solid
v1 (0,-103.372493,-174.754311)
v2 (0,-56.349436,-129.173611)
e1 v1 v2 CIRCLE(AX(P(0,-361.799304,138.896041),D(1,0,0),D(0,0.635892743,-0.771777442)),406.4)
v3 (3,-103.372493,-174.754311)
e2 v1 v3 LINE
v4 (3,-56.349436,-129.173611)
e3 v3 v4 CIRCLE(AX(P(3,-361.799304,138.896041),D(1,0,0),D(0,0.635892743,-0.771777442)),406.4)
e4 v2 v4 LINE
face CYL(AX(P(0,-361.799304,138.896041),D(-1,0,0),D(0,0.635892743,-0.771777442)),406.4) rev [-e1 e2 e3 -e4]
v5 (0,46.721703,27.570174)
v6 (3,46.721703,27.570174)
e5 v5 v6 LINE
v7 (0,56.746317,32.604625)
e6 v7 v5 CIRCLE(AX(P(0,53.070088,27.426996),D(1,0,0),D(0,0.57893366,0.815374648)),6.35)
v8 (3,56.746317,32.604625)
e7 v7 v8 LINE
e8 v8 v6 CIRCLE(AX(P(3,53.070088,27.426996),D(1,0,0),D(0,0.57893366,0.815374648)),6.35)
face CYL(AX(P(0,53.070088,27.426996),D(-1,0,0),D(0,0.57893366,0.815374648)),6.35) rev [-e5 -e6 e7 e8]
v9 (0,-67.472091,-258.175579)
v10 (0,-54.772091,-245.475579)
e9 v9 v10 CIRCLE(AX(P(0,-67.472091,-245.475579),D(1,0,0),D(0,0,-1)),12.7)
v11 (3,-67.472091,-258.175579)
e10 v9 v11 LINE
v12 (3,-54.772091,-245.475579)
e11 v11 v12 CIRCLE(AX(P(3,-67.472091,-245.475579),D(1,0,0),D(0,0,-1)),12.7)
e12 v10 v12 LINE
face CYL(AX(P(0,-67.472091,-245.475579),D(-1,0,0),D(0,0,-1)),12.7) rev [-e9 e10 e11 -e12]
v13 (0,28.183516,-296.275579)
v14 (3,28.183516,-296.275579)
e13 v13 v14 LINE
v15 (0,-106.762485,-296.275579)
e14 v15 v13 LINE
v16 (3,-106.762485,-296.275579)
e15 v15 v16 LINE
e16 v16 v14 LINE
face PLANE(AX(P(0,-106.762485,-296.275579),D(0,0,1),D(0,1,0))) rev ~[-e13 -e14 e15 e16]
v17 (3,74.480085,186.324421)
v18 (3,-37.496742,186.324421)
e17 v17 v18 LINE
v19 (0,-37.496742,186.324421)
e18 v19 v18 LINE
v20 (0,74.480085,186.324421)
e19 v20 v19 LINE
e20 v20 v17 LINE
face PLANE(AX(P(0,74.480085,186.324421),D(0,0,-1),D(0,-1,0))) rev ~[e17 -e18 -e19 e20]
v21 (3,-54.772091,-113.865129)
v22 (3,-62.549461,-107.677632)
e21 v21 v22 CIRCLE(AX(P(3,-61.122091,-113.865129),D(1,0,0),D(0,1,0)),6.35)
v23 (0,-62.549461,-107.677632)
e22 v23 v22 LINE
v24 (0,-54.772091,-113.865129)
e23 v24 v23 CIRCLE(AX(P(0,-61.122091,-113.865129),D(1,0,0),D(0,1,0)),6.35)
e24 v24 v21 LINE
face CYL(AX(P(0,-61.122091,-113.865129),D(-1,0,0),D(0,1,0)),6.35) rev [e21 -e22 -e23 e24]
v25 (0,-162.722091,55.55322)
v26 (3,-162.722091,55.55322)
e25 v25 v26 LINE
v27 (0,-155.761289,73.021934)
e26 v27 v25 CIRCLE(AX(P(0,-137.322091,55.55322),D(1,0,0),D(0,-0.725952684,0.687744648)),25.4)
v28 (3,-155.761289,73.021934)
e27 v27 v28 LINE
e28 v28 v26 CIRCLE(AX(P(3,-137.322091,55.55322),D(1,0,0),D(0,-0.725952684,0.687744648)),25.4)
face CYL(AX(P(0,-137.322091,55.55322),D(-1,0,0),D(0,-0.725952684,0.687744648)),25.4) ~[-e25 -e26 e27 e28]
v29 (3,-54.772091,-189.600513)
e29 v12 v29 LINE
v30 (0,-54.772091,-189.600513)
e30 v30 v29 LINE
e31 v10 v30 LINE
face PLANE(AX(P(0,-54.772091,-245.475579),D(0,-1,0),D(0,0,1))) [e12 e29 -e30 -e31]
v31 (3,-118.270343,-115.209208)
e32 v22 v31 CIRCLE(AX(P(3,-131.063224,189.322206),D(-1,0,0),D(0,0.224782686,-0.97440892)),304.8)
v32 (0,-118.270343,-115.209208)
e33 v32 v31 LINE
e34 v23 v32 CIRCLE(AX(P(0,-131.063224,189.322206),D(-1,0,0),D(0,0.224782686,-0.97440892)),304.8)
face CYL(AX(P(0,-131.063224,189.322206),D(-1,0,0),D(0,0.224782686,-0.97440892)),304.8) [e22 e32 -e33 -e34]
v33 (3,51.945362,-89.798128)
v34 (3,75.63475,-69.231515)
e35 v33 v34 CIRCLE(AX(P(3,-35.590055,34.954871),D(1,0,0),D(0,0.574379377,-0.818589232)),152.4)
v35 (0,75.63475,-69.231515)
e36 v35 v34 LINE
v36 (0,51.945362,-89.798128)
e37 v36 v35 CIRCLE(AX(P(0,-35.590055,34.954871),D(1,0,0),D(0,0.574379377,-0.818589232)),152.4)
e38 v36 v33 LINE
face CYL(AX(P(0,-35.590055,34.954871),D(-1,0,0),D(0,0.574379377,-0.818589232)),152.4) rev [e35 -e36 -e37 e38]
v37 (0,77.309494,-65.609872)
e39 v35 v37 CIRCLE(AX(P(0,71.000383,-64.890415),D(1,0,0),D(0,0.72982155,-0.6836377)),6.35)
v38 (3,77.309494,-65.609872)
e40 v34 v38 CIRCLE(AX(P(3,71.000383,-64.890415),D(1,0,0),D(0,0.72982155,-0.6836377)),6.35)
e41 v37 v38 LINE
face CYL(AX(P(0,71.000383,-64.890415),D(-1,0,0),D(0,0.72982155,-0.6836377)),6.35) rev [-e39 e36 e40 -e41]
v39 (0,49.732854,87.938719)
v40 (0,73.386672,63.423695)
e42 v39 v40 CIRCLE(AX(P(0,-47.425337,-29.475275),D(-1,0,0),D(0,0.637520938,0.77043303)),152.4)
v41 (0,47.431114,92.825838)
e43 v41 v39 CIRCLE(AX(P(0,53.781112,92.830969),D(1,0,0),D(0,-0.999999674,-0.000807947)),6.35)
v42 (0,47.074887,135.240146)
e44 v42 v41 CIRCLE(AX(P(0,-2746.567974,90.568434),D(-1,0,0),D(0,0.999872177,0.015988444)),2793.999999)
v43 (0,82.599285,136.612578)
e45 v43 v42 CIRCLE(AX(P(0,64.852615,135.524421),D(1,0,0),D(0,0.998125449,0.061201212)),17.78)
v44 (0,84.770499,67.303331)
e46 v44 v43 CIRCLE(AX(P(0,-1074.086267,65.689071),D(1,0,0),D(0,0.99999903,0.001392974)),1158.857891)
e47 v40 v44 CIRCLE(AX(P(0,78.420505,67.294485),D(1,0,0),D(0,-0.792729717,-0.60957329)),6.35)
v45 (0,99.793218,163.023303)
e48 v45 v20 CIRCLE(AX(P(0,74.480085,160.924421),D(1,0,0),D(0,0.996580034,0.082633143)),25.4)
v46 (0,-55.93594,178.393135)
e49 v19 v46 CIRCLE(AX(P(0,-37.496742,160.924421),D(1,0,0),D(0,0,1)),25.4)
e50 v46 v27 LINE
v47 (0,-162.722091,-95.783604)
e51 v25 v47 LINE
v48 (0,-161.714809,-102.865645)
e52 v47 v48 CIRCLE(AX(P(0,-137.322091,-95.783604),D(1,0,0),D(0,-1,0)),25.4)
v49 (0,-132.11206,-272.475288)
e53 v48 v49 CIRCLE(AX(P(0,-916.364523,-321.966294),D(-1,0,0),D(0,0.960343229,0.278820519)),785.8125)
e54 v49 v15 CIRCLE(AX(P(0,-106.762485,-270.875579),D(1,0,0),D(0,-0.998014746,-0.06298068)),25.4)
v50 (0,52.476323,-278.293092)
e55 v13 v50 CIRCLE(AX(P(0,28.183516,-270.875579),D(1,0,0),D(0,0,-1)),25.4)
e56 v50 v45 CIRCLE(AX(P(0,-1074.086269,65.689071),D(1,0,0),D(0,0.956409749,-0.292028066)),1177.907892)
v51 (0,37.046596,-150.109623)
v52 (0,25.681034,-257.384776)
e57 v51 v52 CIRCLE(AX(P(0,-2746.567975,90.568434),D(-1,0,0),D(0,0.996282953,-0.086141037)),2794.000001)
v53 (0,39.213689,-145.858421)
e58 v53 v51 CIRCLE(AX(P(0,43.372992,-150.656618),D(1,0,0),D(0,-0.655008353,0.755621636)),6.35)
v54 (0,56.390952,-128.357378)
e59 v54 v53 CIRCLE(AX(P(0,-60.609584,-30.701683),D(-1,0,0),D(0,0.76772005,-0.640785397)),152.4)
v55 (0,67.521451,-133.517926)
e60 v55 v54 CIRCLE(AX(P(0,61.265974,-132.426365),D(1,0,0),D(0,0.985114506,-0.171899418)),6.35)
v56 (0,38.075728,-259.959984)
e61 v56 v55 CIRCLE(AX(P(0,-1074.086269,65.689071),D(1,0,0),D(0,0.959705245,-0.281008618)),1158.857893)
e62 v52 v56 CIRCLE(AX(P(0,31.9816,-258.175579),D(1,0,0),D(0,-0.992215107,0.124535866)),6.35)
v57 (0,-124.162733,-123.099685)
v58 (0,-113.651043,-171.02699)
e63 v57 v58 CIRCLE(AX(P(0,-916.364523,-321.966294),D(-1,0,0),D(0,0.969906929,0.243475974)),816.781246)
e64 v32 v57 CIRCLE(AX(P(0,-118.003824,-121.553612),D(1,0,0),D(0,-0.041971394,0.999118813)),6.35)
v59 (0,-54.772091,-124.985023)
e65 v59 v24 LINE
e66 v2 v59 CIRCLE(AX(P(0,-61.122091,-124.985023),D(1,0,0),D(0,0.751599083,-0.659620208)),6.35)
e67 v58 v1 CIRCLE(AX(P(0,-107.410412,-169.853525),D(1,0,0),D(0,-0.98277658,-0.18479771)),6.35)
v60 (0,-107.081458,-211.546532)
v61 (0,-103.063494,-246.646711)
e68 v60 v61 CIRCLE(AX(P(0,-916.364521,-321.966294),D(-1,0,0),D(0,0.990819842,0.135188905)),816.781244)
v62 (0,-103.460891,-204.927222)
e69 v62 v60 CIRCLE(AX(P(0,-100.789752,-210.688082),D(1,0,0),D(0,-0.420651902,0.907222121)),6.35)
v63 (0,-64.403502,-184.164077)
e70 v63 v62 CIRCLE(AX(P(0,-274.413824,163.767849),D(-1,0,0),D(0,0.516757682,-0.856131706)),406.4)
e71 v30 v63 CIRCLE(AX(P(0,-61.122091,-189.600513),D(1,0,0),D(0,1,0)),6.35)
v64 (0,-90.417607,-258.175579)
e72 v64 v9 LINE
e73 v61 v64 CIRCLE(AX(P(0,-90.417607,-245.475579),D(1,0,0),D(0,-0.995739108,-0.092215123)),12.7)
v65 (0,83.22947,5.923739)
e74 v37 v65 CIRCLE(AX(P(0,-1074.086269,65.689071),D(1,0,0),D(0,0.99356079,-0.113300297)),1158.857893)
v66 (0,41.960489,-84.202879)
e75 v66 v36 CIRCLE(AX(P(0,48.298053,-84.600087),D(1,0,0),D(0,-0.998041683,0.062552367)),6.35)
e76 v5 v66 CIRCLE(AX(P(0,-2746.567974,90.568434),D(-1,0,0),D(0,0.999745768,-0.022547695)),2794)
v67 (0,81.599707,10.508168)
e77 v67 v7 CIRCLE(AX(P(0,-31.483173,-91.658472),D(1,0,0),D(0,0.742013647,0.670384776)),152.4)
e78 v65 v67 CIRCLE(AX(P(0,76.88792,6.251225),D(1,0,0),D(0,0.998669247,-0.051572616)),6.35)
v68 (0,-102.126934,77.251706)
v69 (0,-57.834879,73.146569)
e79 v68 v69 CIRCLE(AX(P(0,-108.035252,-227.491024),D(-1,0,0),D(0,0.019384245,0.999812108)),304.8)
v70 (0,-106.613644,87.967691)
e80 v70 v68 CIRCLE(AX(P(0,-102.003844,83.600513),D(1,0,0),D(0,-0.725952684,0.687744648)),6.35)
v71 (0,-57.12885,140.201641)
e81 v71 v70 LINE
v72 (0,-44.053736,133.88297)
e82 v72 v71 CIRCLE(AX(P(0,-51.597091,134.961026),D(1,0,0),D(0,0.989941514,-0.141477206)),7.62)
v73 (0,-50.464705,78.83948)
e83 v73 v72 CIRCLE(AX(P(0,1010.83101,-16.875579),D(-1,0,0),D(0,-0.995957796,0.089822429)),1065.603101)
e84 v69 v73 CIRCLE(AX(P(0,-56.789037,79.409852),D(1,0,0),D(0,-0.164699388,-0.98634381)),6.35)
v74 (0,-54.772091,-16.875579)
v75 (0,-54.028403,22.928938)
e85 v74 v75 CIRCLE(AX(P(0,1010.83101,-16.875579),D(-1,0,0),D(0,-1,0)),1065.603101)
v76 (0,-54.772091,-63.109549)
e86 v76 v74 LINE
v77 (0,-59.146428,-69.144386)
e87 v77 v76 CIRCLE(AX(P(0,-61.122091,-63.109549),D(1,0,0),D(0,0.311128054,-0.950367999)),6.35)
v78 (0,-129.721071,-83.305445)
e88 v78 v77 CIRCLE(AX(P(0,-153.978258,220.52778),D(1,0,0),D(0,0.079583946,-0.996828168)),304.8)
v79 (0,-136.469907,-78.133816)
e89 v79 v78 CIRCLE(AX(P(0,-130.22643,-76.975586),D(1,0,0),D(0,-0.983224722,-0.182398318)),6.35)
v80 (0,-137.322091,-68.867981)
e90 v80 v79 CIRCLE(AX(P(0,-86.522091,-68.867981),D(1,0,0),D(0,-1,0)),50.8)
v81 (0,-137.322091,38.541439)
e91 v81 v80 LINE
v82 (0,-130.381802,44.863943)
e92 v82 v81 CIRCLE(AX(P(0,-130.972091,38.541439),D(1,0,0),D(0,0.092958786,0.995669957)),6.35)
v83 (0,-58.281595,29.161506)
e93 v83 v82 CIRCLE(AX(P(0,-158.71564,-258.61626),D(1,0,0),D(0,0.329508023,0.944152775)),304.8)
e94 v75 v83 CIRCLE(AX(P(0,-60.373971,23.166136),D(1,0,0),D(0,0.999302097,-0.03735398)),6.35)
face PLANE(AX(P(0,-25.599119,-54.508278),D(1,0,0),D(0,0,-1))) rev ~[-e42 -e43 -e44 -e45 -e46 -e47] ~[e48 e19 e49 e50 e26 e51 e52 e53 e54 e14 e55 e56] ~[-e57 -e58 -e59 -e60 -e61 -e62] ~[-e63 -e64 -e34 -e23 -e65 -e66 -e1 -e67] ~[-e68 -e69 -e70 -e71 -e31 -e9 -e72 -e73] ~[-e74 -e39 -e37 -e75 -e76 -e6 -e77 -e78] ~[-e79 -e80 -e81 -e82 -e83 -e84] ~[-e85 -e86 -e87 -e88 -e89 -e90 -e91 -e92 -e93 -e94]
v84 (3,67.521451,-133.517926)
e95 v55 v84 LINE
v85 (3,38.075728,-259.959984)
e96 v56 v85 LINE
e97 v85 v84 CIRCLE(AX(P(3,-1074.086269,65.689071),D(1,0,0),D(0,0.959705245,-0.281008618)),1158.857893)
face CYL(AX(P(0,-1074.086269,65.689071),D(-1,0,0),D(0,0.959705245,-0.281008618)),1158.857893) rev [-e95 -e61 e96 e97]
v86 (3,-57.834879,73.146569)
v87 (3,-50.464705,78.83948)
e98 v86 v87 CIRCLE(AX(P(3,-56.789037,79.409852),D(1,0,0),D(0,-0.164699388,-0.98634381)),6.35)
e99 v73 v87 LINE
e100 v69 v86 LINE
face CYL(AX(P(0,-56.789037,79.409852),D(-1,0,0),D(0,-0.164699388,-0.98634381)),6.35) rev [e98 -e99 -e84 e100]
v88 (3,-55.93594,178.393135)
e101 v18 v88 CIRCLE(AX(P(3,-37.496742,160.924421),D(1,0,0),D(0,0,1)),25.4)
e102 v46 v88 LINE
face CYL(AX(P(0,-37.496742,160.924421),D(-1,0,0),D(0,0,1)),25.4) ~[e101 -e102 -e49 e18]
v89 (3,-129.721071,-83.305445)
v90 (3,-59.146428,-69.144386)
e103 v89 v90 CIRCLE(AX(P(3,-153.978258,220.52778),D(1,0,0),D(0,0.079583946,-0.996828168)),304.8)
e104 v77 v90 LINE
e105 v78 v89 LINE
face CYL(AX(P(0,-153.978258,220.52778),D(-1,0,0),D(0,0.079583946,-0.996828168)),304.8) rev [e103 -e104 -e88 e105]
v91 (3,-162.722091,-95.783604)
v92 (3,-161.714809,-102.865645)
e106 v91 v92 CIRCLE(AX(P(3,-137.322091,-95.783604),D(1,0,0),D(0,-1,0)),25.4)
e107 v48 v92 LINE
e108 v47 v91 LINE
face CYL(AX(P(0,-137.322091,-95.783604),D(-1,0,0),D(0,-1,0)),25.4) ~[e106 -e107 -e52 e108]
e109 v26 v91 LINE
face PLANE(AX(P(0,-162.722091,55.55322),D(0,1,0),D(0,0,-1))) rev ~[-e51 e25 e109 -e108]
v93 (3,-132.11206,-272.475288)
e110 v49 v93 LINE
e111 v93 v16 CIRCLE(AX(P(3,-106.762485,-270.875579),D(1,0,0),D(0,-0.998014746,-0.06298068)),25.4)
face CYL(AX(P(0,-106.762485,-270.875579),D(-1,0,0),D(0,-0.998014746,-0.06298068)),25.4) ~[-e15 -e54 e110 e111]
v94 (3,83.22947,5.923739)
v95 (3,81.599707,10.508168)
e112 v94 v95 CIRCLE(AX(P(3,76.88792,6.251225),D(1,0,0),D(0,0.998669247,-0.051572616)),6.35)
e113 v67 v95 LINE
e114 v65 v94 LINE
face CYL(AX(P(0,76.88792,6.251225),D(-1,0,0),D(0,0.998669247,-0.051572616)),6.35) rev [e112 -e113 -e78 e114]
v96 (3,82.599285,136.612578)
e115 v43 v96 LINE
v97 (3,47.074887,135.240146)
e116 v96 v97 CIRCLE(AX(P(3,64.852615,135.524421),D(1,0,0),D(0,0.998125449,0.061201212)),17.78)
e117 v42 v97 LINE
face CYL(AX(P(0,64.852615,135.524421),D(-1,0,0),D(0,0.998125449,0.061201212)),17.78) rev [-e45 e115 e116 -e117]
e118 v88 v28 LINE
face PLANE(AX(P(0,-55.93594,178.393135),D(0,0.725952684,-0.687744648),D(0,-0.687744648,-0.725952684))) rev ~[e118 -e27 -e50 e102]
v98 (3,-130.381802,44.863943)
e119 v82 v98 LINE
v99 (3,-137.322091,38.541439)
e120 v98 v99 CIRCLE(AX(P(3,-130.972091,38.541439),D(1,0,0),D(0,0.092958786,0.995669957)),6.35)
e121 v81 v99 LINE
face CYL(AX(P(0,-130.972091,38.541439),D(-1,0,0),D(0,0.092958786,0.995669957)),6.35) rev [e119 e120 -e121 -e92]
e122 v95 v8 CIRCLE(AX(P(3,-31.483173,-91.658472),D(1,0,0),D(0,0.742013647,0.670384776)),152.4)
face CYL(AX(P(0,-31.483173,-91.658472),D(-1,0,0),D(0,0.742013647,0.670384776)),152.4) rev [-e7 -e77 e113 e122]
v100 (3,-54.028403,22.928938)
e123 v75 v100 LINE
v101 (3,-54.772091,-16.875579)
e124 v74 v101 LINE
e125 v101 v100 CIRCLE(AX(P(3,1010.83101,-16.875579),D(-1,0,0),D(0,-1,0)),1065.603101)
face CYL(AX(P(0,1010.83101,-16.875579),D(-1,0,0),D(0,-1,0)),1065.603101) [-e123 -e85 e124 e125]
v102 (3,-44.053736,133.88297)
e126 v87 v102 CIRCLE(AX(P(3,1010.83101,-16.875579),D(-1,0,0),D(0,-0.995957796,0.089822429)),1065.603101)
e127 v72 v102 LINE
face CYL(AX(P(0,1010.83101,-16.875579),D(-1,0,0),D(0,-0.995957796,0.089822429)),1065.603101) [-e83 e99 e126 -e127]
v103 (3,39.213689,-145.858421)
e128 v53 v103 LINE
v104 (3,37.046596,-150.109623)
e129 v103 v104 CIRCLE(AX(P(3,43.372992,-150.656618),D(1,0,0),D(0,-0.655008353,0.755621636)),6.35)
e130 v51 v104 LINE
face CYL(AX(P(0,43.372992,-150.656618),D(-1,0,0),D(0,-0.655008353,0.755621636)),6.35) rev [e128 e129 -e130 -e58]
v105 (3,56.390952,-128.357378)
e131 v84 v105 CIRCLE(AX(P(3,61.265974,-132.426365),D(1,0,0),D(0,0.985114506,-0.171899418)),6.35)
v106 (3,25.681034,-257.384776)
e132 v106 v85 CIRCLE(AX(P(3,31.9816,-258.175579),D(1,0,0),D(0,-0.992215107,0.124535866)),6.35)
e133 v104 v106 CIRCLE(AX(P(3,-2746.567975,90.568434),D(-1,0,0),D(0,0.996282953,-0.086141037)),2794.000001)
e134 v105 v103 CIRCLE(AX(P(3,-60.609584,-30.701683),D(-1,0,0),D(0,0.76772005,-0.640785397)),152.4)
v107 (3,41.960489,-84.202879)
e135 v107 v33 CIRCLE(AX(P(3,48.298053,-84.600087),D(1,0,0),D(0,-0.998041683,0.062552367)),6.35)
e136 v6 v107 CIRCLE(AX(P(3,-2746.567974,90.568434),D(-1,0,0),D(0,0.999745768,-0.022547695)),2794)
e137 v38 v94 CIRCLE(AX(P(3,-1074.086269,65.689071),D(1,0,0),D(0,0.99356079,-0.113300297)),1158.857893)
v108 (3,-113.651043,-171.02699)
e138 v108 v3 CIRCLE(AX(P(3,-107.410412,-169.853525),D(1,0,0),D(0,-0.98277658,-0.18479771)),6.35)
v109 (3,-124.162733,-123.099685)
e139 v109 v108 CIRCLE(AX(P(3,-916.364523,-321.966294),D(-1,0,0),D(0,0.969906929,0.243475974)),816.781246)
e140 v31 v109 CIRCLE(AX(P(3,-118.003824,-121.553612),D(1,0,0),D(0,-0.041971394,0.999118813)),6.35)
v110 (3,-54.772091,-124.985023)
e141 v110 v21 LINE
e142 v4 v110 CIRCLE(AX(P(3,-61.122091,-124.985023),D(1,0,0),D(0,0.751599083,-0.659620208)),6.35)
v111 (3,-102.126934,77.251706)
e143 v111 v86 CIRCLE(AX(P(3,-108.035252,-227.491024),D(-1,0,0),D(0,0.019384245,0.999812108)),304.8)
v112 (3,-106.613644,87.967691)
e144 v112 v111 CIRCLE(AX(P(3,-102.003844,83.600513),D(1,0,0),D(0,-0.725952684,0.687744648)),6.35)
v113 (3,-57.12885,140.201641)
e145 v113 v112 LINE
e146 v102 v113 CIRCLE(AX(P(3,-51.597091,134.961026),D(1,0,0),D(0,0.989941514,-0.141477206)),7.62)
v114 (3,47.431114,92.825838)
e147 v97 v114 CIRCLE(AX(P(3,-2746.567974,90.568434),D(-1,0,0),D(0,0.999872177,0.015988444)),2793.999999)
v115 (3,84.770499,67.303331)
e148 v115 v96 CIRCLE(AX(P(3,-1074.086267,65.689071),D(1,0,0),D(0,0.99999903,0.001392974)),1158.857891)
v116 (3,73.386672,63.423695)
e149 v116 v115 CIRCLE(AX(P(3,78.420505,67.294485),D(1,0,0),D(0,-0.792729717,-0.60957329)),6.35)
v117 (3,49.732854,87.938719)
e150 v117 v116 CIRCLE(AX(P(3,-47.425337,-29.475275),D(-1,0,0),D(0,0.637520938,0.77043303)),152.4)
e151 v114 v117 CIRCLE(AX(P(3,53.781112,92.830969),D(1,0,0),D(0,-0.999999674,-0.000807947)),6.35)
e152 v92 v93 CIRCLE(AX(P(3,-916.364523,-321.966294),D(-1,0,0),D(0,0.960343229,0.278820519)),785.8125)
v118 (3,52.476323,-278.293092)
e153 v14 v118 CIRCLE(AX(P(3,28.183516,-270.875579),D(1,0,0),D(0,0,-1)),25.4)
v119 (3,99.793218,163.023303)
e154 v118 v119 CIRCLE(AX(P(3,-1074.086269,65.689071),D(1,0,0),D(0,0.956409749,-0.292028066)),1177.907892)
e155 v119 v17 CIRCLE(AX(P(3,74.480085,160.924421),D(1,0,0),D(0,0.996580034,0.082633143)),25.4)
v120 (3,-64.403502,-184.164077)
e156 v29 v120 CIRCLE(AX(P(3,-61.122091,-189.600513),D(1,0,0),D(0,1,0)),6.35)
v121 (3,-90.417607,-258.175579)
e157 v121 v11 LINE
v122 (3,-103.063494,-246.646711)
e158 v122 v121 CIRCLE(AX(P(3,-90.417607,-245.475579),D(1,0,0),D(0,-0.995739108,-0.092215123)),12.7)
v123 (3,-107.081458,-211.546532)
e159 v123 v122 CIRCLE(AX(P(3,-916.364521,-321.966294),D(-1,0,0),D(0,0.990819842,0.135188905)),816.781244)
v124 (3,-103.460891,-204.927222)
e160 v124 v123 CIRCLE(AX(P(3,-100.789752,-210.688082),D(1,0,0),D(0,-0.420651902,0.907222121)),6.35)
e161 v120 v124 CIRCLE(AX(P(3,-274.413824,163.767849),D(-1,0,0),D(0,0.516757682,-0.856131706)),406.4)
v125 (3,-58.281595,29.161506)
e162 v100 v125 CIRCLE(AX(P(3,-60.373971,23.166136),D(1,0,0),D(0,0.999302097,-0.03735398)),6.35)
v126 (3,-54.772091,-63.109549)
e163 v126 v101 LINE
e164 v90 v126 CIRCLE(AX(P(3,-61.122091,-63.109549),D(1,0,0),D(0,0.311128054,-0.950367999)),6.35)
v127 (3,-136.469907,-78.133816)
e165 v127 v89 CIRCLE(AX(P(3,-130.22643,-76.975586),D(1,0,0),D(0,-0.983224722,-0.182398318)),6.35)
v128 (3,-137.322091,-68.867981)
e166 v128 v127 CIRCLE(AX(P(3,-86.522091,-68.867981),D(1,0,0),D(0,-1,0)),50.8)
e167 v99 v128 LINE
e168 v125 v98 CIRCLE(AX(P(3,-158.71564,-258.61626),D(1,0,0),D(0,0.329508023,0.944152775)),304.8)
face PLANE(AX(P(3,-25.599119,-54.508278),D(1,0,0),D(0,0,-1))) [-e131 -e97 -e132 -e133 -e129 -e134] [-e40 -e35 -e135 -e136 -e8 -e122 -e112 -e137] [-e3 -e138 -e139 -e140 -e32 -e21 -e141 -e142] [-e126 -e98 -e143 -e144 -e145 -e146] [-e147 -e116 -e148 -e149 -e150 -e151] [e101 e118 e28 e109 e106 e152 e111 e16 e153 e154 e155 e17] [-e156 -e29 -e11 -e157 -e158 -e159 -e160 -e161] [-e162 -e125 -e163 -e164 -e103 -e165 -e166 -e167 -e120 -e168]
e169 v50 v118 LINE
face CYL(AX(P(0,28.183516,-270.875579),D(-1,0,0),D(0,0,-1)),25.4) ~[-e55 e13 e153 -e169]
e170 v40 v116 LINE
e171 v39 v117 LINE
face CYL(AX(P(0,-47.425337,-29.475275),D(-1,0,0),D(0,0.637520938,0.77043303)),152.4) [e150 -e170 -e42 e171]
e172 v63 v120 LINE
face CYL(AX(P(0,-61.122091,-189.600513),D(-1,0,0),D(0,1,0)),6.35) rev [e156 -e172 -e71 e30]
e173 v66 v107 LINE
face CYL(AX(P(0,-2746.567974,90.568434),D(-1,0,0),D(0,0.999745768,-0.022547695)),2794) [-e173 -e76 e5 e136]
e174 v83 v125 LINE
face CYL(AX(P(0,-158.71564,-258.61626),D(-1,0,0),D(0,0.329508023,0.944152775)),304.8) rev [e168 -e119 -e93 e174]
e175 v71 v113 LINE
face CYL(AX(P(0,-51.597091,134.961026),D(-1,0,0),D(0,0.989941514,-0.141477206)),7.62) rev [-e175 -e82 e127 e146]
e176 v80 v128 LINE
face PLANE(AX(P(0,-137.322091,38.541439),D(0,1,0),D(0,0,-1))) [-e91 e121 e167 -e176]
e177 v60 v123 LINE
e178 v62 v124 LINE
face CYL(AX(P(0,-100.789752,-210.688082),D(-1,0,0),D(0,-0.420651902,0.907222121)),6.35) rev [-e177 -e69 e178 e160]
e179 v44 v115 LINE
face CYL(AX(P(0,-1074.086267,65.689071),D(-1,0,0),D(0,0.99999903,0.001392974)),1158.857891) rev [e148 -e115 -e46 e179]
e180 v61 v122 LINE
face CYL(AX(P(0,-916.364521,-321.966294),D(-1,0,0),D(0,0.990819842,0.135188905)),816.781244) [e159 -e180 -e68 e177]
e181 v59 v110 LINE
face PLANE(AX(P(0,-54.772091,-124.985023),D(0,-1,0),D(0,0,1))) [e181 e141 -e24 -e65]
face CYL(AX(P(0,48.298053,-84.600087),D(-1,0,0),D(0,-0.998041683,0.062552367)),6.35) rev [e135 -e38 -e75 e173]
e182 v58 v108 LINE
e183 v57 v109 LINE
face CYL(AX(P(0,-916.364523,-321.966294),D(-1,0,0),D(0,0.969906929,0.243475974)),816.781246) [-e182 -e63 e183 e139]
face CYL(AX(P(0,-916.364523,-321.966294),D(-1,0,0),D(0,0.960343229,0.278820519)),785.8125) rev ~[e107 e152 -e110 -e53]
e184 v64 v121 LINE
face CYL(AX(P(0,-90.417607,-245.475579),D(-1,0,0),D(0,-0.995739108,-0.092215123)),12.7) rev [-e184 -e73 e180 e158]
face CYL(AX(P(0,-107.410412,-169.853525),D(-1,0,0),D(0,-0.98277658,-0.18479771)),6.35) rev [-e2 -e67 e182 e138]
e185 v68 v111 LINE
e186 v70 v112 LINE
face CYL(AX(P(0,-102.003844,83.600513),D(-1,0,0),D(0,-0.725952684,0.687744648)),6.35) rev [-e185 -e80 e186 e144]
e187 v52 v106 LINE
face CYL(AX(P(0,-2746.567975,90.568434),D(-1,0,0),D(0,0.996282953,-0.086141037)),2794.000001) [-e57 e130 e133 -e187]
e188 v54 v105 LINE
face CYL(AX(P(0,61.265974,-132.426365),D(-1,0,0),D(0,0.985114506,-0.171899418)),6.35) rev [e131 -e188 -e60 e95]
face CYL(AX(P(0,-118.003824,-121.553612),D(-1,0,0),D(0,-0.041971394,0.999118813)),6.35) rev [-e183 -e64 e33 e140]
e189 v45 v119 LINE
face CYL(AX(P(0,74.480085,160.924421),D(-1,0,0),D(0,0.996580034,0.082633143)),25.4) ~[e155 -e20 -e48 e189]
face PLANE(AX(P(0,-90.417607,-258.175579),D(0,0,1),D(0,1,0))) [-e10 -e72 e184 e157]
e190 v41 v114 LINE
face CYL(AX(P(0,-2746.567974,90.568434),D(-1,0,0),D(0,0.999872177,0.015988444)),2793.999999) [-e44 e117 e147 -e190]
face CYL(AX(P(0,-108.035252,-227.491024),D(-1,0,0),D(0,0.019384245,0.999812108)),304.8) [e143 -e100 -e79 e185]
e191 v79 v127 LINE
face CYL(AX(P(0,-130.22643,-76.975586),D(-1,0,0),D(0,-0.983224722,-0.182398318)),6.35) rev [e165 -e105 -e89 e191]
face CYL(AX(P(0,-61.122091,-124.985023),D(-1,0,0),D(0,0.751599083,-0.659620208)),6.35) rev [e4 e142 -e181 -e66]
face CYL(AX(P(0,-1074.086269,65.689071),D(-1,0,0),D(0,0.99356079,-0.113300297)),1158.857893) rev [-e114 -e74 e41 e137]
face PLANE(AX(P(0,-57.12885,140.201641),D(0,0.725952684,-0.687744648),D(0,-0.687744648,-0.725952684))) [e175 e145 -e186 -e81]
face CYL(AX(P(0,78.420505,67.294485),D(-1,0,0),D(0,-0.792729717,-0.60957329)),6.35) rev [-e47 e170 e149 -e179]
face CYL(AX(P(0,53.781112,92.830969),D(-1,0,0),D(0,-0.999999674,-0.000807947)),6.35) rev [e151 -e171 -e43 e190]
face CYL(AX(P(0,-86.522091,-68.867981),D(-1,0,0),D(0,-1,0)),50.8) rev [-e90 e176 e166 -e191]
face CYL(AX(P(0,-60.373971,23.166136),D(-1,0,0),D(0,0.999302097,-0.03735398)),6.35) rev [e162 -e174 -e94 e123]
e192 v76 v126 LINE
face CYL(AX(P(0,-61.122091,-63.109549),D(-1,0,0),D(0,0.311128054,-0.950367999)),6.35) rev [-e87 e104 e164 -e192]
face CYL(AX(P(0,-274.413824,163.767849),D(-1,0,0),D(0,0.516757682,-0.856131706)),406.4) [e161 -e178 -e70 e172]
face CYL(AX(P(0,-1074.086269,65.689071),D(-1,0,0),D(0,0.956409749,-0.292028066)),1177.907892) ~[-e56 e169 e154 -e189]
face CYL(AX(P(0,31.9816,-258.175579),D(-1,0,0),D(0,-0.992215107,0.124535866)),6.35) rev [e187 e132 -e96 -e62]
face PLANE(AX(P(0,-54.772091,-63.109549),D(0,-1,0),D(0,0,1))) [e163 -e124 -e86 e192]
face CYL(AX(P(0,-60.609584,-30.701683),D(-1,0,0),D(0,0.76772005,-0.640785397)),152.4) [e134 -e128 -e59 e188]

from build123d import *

# Parameters (mm, degrees)
BOSS_EXTRUDE1_DEPTH = 3


with BuildPart() as part:
    # Sketch3 → Boss-Extrude1 (new body)
    with BuildSketch(Plane(origin=(0, 0, 0), x_dir=(0, 0, -1), z_dir=(1, 0, 0))):
        with BuildLine():
            Line((296.275579055, -106.762485274), (296.275579055, 28.183515817))
            ThreePointArc((296.275579055, 28.183515817), (291.290828585, 43.295682658), (278.29309192, 52.476323454))
            ThreePointArc((278.29309192, 52.476323454), (59.883707169, 97.109052306), (-163.023302782, 99.793218303))
            ThreePointArc((-163.023302782, 99.793218303), (-179.612272596, 91.682532966), (-186.324420945, 74.480085446))
            Line((-186.324420945, 74.480085446), (-186.324420945, -37.496742321))
            ThreePointArc((-186.324420945, -37.496742321), (-184.257501936, -47.533043008), (-178.393135002, -55.935940492))
            Line((-178.393135002, -55.935940492), (-73.021933987, -155.761288823))
            ThreePointArc((-73.021933987, -155.761288823), (-64.95546345, -160.91780672), (-55.55321993, -162.722090651))
            Line((-55.55321993, -162.722090651), (95.783603989, -162.722090651))
            ThreePointArc((95.783603989, -162.722090651), (99.360261791, -162.469009329), (102.86564516, -161.714808681))
            ThreePointArc((102.86564516, -161.714808681), (186.857264311, -142.254171864), (272.475288326, -132.112059831))
            ThreePointArc((272.475288326, -132.112059831), (289.393038593, -124.148217707), (296.275579055, -106.762485274))
        make_face()
        with BuildLine():
            Line((-140.201640509, -57.128850103), (-87.96769136, -106.613644033))
            ThreePointArc((-87.96769136, -106.613644033), (-81.148094961, -107.861160131), (-77.251705961, -102.126934444))
            ThreePointArc((-77.251705961, -102.126934444), (-76.008202248, -79.905919655), (-73.146568748, -57.834878595))
            ThreePointArc((-73.146568748, -57.834878595), (-74.384458899, -52.907294986), (-78.839479519, -50.464705473))
            ThreePointArc((-78.839479519, -50.464705473), (-106.402906269, -47.617091315), (-133.882969985, -44.053736318))
            ThreePointArc((-133.882969985, -44.053736318), (-141.821884271, -48.281517128), (-140.201640509, -57.128850103))
        make_face(mode=Mode.SUBTRACT)
        with BuildLine():
            Line((63.109549173, -54.772090651), (16.875579055, -54.772090651))
            ThreePointArc((16.875579055, -54.772090651), (-3.030152717, -54.586152411), (-22.928937744, -54.02840258))
            ThreePointArc((-22.928937744, -54.02840258), (-26.745457872, -55.128882574), (-29.161505638, -58.281594946))
            ThreePointArc((-29.161505638, -58.281594946), (-39.202655269, -93.85476168), (-44.863942819, -130.381802358))
            ThreePointArc((-44.863942819, -130.381802358), (-43.235628118, -135.248430754), (-38.54143859, -137.322090651))
            Line((-38.54143859, -137.322090651), (68.867981086, -137.322090651))
            ThreePointArc((68.867981086, -137.322090651), (73.52045107, -137.108595997), (78.133815642, -136.469906519))
            ThreePointArc((78.133815642, -136.469906519), (82.01587994, -134.088804485), (83.305445186, -129.72107148))
            ThreePointArc((83.305445186, -129.72107148), (78.315586037, -94.014248859), (69.14438597, -59.146427513))
            ThreePointArc((69.14438597, -59.146427513), (66.836279581, -55.980691964), (63.109549173, -54.772090651))
        make_face(mode=Mode.SUBTRACT)
        with BuildLine():
            Line((124.985022972, -54.772090651), (113.865129032, -54.772090651))
            ThreePointArc((113.865129032, -54.772090651), (108.895908777, -57.16869337), (107.677632388, -62.54946071))
            ThreePointArc((107.677632388, -62.54946071), (112.731044206, -90.235858533), (115.209207632, -118.270342681))
            ThreePointArc((115.209207632, -118.270342681), (117.754129966, -123.091695748), (123.099684529, -124.162733326))
            ThreePointArc((123.099684529, -124.162733326), (146.984385828, -118.546914937), (171.026989965, -113.651043346))
            ThreePointArc((171.026989965, -113.651043346), (175.823137855, -109.575179128), (174.754311259, -103.372493144))
            ThreePointArc((174.754311259, -103.372493144), (152.912685544, -78.94134113), (129.173611289, -56.349436473))
            ThreePointArc((129.173611289, -56.349436473), (127.222895395, -55.179496351), (124.985022972, -54.772090651))
        make_face(mode=Mode.SUBTRACT)
        with BuildLine():
            Line((245.475579055, -54.772090651), (189.600512971, -54.772090651))
            ThreePointArc((189.600512971, -54.772090651), (184.070618685, -58.000749725), (184.164076639, -64.403501933))
            ThreePointArc((184.164076639, -64.403501933), (195.077427987, -83.649499652), (204.927221509, -103.460891158))
            ThreePointArc((204.927221509, -103.460891158), (207.64086464, -106.360834644), (211.546531528, -107.081457582))
            ThreePointArc((211.546531528, -107.081457582), (229.074894441, -104.882673663), (246.646711113, -103.063493647))
            ThreePointArc((246.646711113, -103.063493647), (254.86076358, -98.973792541), (258.175579055, -90.417606976))
            Line((258.175579055, -90.417606976), (258.175579055, -67.472090651))
            ThreePointArc((258.175579055, -67.472090651), (254.455835176, -58.49183453), (245.475579055, -54.772090651))
        make_face(mode=Mode.SUBTRACT)
        with BuildLine():
            ThreePointArc((-63.423694749, 73.386671701), (-61.283949627, 80.468910348), (-67.303330529, 84.770499241))
            ThreePointArc((-67.303330529, 84.770499241), (-101.974198169, 84.203420455), (-136.612578489, 82.599285182))
            ThreePointArc((-136.612578489, 82.599285182), (-153.291167029, 64.166222989), (-135.240146412, 47.0748874))
            ThreePointArc((-135.240146412, 47.0748874), (-114.033668366, 47.33348842), (-92.825838328, 47.431113877))
            ThreePointArc((-92.825838328, 47.431113877), (-90.125310843, 48.036382475), (-87.938719053, 49.732853847))
            ThreePointArc((-87.938719053, 49.732853847), (-76.344200811, 62.246895478), (-63.423694749, 73.386671701))
        make_face(mode=Mode.SUBTRACT)
        with BuildLine():
            ThreePointArc((69.231514749, 75.634749617), (67.555654459, 76.763975447), (65.609872244, 77.309493785))
            ThreePointArc((65.609872244, 77.309493785), (29.88891223, 80.823452233), (-5.923738689, 83.229470179))
            ThreePointArc((-5.923738689, 83.229470179), (-8.378239234, 82.871089318), (-10.508168123, 81.599707119))
            ThreePointArc((-10.508168123, 81.599707119), (-22.236344306, 69.777534825), (-32.604624722, 56.746317095))
            ThreePointArc((-32.604624722, 56.746317095), (-33.101585539, 50.220258497), (-27.57017357, 46.721702724))
            ThreePointArc((-27.57017357, 46.721702724), (28.340185633, 44.900589153), (84.202879174, 41.960488643))
            ThreePointArc((84.202879174, 41.960488643), (90.139619886, 45.193850997), (89.79812833, 51.945362376))
            ThreePointArc((89.79812833, 51.945362376), (80.12600177, 64.320669452), (69.231514749, 75.634749617))
        make_face(mode=Mode.SUBTRACT)
        with BuildLine():
            ThreePointArc((145.858420697, 39.213689288), (147.772723887, 37.715638334), (150.109622506, 37.04659558))
            ThreePointArc((150.109622506, 37.04659558), (203.802057157, 31.881595955), (257.384776304, 25.681033985))
            ThreePointArc((257.384776304, 25.681033985), (264.392806933, 30.68986561), (259.959983781, 38.075728216))
            ThreePointArc((259.959983781, 38.075728216), (197.151625063, 54.570624598), (133.51792631, 67.521451383))
            ThreePointArc((133.51792631, 67.521451383), (126.665438798, 63.936972071), (128.357377735, 56.390951951))
            ThreePointArc((128.357377735, 56.390951951), (137.453954347, 48.154898666), (145.858420697, 39.213689288))
        make_face(mode=Mode.SUBTRACT)
    extrude(amount=BOSS_EXTRUDE1_DEPTH)


solid = part.part
